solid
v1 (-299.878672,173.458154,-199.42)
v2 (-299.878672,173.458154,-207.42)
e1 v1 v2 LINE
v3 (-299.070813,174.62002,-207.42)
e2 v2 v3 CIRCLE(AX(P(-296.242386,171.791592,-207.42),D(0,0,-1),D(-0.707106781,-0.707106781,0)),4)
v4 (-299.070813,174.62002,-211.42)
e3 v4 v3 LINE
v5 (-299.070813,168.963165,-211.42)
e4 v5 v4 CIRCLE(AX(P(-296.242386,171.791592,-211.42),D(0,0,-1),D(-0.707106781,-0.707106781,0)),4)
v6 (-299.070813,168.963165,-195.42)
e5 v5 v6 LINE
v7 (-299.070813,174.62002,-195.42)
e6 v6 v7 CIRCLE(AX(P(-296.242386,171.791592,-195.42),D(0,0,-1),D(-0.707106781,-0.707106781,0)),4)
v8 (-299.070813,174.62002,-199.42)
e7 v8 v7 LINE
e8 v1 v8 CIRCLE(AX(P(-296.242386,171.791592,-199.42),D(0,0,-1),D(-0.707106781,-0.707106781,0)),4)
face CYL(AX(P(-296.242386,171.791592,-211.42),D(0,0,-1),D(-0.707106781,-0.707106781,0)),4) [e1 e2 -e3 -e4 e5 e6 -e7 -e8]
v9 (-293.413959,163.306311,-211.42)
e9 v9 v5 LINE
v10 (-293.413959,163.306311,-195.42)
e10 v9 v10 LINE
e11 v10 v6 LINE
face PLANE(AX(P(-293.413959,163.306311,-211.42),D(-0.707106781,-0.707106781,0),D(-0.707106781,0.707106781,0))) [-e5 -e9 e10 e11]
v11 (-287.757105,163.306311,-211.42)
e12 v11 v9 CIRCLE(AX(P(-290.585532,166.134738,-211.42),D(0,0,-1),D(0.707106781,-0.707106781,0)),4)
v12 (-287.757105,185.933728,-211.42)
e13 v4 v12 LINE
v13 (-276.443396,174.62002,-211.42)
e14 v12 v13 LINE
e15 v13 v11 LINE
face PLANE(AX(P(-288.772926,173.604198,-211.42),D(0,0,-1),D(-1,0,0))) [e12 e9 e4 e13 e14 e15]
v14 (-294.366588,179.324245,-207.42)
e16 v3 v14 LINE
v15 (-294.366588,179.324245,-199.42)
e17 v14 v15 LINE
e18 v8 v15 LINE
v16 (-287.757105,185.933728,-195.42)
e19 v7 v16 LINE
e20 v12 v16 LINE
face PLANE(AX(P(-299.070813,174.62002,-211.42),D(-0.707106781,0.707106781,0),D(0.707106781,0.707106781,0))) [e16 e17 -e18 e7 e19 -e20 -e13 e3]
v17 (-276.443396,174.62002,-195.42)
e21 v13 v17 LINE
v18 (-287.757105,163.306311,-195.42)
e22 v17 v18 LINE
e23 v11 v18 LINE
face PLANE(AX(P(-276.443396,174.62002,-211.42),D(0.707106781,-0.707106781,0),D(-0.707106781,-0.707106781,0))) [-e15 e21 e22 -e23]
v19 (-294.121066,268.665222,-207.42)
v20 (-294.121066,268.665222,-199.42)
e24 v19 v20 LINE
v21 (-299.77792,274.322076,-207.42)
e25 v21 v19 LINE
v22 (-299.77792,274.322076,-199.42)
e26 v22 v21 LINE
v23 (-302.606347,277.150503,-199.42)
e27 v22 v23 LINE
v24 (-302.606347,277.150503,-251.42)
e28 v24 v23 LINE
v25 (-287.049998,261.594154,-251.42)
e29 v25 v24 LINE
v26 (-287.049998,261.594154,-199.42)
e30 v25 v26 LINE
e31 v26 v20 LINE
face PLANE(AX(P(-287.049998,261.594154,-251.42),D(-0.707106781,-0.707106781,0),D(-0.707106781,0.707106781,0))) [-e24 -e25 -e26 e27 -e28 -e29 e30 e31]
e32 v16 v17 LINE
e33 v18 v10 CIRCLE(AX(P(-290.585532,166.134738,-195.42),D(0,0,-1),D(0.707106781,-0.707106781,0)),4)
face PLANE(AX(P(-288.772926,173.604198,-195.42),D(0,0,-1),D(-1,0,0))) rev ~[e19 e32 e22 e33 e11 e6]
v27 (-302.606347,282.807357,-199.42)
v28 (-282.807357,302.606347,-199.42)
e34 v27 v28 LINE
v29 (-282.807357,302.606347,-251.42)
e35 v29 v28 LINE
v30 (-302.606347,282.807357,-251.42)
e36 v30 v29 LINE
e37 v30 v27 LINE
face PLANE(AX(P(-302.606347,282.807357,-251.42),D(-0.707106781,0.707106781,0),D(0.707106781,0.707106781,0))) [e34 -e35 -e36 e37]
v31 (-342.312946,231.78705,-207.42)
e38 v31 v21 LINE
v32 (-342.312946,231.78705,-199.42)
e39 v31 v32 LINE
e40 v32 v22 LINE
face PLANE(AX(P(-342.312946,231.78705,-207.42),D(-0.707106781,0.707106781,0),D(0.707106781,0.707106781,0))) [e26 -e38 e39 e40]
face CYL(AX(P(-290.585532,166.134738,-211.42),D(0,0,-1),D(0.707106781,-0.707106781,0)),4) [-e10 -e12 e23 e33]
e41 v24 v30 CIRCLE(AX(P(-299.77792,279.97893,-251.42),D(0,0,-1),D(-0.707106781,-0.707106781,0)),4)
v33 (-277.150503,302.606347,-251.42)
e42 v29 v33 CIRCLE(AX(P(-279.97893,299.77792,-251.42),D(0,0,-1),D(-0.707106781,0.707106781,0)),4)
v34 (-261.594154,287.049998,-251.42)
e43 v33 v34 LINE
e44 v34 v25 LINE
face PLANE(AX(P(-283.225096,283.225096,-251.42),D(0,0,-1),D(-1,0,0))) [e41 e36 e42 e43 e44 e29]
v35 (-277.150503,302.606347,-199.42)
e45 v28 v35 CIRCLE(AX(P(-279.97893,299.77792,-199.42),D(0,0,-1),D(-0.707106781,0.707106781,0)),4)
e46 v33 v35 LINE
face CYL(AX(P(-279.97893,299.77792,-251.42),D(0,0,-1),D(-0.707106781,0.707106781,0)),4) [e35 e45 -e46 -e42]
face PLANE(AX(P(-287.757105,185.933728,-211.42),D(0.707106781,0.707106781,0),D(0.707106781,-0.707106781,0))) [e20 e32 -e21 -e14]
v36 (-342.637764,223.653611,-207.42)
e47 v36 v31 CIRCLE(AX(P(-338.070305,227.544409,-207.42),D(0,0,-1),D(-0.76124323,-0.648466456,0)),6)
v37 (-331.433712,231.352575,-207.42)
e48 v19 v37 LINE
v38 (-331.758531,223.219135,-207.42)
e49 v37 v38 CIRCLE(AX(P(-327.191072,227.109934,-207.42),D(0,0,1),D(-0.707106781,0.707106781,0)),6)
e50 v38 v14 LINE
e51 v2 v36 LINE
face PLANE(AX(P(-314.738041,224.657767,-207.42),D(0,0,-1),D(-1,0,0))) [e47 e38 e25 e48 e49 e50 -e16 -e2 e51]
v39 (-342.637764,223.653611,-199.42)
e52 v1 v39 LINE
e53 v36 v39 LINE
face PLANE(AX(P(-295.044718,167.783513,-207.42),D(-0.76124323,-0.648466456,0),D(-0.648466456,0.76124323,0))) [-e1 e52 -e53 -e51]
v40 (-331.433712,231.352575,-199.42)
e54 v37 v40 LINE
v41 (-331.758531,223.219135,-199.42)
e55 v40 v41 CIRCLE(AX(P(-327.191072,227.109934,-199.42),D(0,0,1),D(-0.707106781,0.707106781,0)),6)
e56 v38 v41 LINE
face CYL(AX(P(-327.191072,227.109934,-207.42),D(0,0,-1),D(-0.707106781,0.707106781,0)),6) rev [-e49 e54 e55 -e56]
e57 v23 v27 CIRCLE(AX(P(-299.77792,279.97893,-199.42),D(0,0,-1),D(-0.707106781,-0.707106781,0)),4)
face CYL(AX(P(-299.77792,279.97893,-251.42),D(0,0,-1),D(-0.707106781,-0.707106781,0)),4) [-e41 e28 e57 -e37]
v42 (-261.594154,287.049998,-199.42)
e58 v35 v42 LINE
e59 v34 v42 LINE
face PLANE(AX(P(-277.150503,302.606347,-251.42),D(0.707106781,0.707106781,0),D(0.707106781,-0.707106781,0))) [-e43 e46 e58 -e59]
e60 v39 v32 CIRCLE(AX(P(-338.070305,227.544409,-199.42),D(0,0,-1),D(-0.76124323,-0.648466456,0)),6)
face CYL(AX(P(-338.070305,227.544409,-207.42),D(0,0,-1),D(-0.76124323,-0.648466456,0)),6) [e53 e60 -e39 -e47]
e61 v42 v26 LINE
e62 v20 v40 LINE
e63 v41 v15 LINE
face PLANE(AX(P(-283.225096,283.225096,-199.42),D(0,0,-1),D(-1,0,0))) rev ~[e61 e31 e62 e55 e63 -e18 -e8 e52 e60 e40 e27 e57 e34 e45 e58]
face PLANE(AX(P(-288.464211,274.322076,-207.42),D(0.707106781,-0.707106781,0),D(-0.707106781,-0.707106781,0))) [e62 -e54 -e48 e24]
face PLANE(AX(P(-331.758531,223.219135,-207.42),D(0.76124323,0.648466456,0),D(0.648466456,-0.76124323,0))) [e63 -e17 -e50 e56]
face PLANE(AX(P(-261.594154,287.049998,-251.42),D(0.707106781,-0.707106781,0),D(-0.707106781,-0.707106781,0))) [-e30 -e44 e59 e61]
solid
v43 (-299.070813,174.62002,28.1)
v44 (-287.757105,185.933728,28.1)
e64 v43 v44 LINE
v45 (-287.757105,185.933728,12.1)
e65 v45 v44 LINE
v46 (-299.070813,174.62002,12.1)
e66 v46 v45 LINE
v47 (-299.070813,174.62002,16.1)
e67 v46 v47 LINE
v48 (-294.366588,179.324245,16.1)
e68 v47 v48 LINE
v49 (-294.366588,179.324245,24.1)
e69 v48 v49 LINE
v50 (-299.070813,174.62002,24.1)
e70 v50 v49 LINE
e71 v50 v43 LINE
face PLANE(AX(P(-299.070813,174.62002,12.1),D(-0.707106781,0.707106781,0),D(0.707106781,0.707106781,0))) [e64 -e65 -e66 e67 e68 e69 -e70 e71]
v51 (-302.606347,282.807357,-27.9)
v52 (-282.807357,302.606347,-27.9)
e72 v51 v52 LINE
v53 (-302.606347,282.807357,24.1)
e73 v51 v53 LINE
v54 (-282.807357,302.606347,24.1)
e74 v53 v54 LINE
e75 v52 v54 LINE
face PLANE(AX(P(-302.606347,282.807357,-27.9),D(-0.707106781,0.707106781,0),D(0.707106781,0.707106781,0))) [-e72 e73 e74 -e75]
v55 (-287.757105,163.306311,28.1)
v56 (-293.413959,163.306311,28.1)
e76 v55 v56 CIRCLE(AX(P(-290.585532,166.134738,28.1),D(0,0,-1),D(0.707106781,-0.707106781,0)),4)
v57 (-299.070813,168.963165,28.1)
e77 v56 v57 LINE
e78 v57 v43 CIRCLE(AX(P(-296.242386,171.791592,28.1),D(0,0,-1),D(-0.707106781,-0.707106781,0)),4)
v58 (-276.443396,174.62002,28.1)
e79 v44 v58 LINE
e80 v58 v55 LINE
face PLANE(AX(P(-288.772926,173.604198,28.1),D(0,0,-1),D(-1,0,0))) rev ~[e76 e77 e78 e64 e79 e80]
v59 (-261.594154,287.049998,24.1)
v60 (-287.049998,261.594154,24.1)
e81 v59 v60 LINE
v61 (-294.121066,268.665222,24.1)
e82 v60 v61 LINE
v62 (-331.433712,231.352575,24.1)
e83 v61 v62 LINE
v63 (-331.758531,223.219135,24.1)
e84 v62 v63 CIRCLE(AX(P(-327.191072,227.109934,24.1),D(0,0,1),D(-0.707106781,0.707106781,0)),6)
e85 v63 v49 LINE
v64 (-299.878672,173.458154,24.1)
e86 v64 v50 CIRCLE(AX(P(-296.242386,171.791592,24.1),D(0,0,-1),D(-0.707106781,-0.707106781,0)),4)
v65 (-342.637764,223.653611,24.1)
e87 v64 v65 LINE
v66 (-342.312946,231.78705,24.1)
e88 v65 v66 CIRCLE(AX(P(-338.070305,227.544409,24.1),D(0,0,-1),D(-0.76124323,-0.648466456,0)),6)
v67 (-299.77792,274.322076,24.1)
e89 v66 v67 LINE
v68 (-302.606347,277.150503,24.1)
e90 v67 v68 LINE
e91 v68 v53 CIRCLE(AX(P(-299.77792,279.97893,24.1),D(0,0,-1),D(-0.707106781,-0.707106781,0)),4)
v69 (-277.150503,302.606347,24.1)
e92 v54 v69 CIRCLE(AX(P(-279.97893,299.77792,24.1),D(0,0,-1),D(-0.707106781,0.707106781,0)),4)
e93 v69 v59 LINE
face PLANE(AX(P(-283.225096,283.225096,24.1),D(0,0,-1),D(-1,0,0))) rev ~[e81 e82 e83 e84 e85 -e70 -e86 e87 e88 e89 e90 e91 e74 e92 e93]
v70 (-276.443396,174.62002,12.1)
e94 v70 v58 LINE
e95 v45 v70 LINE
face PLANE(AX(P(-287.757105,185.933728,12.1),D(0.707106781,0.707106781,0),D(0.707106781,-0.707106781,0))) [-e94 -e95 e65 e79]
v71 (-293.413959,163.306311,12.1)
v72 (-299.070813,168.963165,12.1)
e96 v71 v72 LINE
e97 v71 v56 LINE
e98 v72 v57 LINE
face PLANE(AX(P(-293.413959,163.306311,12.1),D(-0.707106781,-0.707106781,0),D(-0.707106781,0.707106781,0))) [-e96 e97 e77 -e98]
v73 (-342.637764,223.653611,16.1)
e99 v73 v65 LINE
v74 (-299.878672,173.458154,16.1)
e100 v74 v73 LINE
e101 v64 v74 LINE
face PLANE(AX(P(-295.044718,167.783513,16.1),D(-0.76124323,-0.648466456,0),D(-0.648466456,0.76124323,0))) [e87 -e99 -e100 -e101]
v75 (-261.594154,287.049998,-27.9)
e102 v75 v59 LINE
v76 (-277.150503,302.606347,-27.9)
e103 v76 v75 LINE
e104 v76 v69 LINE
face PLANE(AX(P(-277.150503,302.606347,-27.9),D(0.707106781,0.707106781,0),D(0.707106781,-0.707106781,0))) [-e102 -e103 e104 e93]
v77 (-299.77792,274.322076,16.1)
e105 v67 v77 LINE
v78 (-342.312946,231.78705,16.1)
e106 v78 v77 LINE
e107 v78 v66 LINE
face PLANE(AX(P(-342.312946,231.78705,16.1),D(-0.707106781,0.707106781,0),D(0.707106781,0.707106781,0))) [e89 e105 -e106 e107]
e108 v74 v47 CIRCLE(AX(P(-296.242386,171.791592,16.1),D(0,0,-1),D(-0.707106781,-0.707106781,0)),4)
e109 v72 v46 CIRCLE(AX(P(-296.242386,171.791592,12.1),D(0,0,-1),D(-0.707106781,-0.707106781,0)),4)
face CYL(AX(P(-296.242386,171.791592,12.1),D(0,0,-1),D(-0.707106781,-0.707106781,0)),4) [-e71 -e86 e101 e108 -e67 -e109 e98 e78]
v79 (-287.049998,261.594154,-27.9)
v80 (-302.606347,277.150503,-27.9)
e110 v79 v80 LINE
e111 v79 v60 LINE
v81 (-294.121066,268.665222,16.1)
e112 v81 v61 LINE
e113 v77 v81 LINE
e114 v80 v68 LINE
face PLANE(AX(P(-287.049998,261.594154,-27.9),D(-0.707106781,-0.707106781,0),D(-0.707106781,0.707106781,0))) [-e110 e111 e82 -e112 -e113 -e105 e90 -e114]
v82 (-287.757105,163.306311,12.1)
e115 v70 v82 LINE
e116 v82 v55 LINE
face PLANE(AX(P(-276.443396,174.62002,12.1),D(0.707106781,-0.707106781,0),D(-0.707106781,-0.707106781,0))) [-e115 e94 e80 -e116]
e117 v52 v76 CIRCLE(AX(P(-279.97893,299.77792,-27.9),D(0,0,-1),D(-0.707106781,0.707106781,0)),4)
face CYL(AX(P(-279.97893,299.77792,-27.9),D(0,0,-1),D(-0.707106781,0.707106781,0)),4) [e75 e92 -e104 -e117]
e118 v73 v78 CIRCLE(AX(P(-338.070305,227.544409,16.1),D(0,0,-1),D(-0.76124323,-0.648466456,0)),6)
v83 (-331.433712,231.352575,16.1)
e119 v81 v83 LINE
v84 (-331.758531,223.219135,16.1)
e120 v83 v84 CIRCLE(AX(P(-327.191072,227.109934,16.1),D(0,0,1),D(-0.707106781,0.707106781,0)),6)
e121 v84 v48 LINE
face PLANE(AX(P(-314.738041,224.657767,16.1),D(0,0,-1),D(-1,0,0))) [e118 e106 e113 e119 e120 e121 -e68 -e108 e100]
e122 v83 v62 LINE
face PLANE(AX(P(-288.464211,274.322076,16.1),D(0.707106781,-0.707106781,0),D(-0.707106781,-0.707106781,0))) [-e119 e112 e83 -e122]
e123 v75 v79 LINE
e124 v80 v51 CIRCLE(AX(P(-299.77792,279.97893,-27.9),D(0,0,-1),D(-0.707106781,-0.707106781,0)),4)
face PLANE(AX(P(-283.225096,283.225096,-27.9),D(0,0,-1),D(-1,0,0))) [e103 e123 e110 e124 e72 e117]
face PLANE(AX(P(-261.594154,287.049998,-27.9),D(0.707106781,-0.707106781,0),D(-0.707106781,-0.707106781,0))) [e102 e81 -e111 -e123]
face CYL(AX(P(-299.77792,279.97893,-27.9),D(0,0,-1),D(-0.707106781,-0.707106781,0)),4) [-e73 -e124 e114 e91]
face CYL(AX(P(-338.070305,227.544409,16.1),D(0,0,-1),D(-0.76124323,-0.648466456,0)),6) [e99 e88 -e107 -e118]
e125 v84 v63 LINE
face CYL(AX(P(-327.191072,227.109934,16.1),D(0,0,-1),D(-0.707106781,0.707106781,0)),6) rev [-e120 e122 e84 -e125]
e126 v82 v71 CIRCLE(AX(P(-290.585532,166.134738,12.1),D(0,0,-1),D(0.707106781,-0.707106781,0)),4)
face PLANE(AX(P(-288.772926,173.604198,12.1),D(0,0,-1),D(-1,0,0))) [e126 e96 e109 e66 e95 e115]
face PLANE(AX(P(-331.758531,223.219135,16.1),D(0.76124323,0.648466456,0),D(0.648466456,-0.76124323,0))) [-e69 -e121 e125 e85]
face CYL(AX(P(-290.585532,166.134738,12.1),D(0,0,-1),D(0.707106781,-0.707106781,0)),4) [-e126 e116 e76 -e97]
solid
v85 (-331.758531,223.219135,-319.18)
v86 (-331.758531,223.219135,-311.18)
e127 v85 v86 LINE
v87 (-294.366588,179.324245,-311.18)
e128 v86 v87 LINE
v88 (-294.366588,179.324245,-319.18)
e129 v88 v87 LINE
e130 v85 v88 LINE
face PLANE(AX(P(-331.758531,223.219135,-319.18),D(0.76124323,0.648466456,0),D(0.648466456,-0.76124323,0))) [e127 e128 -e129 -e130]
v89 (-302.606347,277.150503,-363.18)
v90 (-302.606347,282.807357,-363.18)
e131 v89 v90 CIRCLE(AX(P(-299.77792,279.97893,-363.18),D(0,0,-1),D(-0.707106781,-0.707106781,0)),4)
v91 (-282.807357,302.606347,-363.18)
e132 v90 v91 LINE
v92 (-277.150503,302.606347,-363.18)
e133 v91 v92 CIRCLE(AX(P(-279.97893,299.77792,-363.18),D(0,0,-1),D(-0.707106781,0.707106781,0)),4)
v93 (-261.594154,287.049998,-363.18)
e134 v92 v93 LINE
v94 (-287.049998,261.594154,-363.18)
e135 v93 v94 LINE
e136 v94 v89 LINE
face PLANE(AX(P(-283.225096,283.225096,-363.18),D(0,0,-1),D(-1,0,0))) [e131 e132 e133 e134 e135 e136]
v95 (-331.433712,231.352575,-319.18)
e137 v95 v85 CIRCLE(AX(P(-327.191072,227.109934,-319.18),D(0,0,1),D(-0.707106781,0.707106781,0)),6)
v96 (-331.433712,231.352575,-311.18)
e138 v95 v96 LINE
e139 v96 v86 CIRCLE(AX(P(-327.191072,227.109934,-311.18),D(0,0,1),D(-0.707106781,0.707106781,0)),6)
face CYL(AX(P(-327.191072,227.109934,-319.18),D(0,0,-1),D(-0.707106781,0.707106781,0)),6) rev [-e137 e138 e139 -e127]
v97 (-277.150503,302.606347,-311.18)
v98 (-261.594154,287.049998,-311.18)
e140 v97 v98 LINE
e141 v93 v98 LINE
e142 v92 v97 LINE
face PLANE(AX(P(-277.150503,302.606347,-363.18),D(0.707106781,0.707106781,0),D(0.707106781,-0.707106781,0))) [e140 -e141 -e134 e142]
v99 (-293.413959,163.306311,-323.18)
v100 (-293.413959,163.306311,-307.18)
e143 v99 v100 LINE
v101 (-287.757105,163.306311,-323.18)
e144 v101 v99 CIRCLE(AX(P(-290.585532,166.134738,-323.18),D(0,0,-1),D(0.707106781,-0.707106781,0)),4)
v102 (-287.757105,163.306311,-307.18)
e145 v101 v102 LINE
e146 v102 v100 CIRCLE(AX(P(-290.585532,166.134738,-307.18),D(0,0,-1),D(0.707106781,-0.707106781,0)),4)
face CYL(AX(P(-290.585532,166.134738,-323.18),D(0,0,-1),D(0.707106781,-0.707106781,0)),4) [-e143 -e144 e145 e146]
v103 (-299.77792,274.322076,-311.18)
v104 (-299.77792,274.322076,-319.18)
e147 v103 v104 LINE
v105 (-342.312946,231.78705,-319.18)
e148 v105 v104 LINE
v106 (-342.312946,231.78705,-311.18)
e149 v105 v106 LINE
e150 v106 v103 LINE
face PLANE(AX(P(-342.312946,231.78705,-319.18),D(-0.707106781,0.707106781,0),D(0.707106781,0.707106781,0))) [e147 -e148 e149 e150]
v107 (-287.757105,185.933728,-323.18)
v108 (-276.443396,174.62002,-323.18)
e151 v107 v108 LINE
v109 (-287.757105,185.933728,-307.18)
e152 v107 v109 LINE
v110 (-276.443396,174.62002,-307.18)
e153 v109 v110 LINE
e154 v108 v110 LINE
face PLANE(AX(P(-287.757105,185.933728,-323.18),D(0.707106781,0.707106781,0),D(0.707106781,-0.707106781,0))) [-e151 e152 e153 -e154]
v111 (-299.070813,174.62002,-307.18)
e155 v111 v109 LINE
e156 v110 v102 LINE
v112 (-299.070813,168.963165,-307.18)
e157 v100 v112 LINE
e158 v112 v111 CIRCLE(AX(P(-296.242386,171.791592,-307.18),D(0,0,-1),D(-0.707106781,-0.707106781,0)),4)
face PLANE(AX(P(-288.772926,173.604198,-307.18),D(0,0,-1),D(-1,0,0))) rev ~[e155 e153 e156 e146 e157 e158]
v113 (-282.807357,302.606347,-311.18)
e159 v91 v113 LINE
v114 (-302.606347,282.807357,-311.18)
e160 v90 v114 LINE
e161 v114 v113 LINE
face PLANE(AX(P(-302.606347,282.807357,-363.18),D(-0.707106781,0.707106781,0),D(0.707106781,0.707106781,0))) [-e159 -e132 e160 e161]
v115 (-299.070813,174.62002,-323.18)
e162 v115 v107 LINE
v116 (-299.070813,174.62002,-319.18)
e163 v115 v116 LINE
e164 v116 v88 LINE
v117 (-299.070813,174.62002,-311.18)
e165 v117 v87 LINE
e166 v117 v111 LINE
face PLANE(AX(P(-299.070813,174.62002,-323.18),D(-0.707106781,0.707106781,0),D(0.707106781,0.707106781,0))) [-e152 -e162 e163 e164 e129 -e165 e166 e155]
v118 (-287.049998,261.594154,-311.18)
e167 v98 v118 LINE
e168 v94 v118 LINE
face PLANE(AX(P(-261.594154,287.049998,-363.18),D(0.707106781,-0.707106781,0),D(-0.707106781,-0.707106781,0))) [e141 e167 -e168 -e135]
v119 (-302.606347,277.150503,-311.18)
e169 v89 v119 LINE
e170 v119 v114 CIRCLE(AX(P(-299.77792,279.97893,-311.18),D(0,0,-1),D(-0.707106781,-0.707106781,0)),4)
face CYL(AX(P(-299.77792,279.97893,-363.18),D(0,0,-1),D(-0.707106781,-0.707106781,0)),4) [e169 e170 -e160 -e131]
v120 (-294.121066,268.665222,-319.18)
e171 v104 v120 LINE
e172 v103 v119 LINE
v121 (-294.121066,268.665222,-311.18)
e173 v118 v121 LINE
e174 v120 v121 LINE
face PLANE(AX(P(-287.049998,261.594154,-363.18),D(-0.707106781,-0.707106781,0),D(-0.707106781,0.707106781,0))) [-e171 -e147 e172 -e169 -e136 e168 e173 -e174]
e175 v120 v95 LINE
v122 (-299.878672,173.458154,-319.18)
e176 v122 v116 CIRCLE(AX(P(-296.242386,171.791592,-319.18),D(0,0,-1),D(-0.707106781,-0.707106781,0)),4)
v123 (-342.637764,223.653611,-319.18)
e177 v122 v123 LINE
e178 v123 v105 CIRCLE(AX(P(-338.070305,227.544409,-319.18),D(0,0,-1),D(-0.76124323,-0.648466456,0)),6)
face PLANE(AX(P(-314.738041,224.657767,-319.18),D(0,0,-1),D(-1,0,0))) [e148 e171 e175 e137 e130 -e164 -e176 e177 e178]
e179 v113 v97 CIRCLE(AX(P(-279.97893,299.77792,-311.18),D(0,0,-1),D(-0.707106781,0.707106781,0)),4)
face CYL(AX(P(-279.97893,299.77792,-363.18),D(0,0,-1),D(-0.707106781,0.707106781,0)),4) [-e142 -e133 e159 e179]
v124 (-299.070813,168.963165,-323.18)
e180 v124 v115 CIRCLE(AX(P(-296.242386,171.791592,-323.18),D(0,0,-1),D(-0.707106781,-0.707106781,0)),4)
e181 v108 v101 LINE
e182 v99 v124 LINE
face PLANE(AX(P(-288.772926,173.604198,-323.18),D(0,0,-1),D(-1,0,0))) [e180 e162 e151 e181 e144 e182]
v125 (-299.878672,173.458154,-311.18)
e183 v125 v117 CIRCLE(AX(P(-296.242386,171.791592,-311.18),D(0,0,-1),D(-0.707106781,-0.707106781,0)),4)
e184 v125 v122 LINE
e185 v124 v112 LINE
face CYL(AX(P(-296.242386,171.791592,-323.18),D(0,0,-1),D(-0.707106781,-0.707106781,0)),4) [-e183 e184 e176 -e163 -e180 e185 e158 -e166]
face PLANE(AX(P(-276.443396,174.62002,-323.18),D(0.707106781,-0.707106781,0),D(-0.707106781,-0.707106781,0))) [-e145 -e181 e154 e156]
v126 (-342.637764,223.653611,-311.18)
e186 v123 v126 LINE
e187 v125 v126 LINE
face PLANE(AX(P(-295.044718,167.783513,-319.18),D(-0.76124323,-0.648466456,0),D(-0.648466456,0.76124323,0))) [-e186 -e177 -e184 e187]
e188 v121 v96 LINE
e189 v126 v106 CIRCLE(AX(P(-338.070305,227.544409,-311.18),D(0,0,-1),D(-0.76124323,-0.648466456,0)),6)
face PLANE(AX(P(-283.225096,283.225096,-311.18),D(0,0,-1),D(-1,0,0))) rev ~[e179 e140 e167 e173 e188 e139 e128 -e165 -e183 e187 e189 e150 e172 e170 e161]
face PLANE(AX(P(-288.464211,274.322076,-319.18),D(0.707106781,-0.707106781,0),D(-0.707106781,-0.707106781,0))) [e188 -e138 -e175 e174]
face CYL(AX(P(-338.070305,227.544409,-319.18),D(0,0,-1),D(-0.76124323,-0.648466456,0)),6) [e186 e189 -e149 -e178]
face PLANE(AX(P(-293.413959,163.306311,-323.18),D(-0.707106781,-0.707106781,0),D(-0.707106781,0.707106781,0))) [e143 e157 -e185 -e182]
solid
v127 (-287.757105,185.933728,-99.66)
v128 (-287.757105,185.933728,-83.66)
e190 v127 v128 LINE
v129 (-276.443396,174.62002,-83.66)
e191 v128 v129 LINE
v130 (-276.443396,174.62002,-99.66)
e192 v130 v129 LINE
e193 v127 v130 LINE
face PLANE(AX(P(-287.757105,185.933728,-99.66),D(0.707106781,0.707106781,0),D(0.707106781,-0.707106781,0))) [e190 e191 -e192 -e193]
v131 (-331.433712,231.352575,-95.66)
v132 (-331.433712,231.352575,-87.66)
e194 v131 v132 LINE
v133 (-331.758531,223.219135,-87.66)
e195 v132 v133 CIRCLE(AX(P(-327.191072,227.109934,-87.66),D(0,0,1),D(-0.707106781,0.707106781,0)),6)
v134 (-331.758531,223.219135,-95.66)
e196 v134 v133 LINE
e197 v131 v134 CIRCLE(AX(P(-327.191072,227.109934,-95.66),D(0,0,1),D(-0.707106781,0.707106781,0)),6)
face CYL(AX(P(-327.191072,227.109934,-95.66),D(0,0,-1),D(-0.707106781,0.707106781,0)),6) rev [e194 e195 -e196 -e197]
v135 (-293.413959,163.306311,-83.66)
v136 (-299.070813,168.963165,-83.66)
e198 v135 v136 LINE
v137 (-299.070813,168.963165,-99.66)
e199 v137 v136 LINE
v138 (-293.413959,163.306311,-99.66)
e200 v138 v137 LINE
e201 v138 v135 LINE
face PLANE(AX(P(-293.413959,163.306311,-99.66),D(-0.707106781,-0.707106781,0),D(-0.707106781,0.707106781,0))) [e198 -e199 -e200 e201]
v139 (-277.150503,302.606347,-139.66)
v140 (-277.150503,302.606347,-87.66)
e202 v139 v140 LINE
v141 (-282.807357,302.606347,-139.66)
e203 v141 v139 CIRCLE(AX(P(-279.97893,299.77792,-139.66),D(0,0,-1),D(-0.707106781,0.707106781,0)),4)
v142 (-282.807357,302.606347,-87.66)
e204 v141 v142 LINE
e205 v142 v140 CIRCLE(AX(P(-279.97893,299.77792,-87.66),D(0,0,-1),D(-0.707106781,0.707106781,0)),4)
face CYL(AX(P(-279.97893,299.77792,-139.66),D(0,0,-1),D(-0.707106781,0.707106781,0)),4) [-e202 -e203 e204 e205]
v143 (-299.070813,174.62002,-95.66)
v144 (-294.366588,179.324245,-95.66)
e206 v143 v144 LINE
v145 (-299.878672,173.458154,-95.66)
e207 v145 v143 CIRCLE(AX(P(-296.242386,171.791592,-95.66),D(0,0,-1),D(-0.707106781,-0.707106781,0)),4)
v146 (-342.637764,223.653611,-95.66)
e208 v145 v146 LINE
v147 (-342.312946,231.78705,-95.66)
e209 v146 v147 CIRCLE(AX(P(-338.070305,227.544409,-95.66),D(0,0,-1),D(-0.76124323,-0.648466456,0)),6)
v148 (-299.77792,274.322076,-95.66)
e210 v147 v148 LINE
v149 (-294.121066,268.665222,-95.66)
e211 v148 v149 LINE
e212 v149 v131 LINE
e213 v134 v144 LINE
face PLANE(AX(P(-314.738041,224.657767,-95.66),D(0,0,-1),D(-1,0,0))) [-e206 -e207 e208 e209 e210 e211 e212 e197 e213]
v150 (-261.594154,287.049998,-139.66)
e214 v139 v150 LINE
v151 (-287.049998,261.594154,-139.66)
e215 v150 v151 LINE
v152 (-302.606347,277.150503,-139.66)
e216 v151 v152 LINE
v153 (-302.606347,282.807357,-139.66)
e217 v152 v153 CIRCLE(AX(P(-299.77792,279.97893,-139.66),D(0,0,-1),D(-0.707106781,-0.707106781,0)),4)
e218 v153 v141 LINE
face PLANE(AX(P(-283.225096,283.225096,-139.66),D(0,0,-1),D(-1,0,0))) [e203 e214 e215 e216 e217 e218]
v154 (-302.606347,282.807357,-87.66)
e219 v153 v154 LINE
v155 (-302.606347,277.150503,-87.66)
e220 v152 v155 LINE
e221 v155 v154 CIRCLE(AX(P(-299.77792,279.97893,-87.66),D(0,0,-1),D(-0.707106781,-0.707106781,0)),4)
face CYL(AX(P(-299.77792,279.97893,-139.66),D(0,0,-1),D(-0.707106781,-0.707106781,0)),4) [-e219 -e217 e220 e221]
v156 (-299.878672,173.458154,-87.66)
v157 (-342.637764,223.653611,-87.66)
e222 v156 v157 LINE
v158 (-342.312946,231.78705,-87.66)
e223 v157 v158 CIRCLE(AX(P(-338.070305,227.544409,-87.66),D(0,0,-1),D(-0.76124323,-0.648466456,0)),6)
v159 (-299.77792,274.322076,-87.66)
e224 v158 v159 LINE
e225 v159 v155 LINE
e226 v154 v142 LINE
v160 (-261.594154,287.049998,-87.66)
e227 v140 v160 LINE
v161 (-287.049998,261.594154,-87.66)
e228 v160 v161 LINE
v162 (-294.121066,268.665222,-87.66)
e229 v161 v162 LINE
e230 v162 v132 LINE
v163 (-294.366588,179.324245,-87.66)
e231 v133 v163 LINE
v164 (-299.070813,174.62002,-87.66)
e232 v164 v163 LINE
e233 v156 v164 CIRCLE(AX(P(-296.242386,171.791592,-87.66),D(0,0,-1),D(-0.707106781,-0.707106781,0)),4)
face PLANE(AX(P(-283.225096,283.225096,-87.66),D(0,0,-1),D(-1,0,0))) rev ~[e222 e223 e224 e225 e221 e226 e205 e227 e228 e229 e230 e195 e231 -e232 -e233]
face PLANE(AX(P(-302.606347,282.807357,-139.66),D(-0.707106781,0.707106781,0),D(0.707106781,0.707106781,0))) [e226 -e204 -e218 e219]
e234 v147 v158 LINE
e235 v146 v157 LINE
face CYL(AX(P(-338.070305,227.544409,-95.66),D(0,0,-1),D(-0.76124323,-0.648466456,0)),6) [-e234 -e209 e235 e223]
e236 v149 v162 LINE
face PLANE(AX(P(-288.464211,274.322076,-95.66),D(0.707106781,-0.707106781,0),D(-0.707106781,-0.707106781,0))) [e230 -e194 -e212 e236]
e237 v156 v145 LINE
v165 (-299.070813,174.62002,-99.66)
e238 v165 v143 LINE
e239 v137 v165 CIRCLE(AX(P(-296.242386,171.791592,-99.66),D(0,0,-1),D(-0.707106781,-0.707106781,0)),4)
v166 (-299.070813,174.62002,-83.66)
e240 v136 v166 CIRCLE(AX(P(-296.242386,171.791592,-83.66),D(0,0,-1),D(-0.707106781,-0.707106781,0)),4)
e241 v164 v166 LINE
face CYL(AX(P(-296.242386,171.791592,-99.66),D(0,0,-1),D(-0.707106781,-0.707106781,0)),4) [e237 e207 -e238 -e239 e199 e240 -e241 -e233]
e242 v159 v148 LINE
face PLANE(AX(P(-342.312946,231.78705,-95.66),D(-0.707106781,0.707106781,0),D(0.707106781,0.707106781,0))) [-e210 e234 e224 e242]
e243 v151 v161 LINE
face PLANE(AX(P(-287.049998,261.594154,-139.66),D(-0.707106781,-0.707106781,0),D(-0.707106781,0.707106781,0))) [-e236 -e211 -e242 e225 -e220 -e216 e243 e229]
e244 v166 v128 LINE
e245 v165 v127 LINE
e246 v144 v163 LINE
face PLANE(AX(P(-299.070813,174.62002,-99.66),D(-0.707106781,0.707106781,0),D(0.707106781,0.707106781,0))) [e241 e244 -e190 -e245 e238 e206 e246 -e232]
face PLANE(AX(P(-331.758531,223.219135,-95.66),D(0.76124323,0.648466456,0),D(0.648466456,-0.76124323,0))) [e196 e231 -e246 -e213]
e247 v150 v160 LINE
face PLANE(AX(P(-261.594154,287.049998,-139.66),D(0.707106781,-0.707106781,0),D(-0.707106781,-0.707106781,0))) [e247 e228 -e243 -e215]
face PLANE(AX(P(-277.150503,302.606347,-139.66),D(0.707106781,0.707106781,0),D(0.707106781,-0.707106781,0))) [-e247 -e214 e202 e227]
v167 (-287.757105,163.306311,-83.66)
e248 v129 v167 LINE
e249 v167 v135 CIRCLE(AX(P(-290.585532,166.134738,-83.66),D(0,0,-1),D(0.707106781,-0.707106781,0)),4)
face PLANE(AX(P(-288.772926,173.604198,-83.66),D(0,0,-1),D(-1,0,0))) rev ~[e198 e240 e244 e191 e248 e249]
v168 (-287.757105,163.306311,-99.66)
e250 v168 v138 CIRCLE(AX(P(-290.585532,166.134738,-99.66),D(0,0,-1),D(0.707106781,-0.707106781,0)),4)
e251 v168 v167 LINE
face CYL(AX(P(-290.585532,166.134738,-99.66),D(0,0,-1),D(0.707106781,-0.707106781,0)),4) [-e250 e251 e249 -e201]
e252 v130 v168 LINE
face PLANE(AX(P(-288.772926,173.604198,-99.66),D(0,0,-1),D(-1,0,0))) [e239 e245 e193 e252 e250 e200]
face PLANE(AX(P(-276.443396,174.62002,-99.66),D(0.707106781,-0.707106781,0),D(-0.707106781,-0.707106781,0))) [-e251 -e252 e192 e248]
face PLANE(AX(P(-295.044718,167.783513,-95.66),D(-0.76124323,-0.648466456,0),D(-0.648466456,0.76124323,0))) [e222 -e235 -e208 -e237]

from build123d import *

# Parameters (mm, degrees)
COIL_START        = -27.9
COIL_2_DEPTH      = 52
PLUG_START        = 16.1
PLUG_LEAD_2_DEPTH = 8
PLUG_START_2      = 12.1
PLUG_BOOT_2_DEPTH = 16
COIL_START_2      = -139.66
COIL_4_DEPTH      = 52
PLUG_START_3      = -95.66
PLUG_LEAD_4_DEPTH = 8
PLUG_START_4      = -99.66
PLUG_BOOT_4_DEPTH = 16
COIL_START_3      = -251.42
COIL_6_DEPTH      = 52
PLUG_START_5      = -207.42
PLUG_LEAD_6_DEPTH = 8
PLUG_START_6      = -211.42
PLUG_BOOT_6_DEPTH = 16
COIL_START_4      = -363.18
COIL_8_DEPTH      = 52
PLUG_START_7      = -319.18
PLUG_LEAD_8_DEPTH = 8
PLUG_START_8      = -323.18
PLUG_BOOT_8_DEPTH = 16


with BuildPart() as part:
    # Sketch1 → Coil 2 (new body)
    with BuildSketch(Plane.XY.offset(COIL_START)):
        with BuildLine():
            Line((-261.5941537, 287.049997823), (-287.049997823, 261.5941537))
            Line((-287.049997823, 261.5941537), (-302.606347009, 277.150502886))
            ThreePointArc((-302.606347009, 277.150502886), (-303.777919884, 279.978930011), (-302.606347009, 282.807357136))
            Line((-302.606347009, 282.807357136), (-282.807357136, 302.606347009))
            ThreePointArc((-282.807357136, 302.606347009), (-279.978930011, 303.777919884), (-277.150502886, 302.606347009))
            Line((-277.150502886, 302.606347009), (-261.5941537, 287.049997823))
        make_face()
    extrude(amount=COIL_2_DEPTH)

    # Sketch2 → Plug Lead 2 (add)
    with BuildSketch(Plane.XY.offset(PLUG_START)):
        with BuildLine():
            Line((-288.464211385, 274.322075761), (-331.433712353, 231.352574794))
            ThreePointArc((-331.433712353, 231.352574794), (-333.18629268, 227.349360476), (-331.758531048, 223.219135373))
            Line((-331.758531048, 223.219135373), (-288.954772369, 172.971244749))
            Line((-288.954772369, 172.971244749), (-295.044718213, 167.783513104))
            Line((-295.044718213, 167.783513104), (-342.63776427, 223.65361065))
            ThreePointArc((-342.63776427, 223.65361065), (-344.065525902, 227.783835753), (-342.312945575, 231.787050071))
            Line((-342.312945575, 231.787050071), (-294.121065635, 279.978930011))
            Line((-294.121065635, 279.978930011), (-288.464211385, 274.322075761))
        make_face()
    extrude(amount=PLUG_LEAD_2_DEPTH)

    # Sketch3 → Plug Boot 2 (add)
    with BuildSketch(Plane.XY.offset(PLUG_START_2)):
        with BuildLine():
            Line((-276.443396105, 174.620019614), (-287.757104604, 163.306311115))
            ThreePointArc((-287.757104604, 163.306311115), (-290.585531729, 162.13473824), (-293.413958853, 163.306311115))
            Line((-293.413958853, 163.306311115), (-299.070813103, 168.963165365))
            ThreePointArc((-299.070813103, 168.963165365), (-300.242385978, 171.791592489), (-299.070813103, 174.620019614))
            Line((-299.070813103, 174.620019614), (-287.757104604, 185.933728113))
            Line((-287.757104604, 185.933728113), (-276.443396105, 174.620019614))
        make_face()
    extrude(amount=PLUG_BOOT_2_DEPTH)


with BuildPart() as body_2:
    # Sketch4 → Coil 4 (new body)
    with BuildSketch(Plane.XY.offset(COIL_START_2)):
        with BuildLine():
            Line((-261.5941537, 287.049997823), (-287.049997823, 261.5941537))
            Line((-287.049997823, 261.5941537), (-302.606347009, 277.150502886))
            ThreePointArc((-302.606347009, 277.150502886), (-303.777919884, 279.978930011), (-302.606347009, 282.807357136))
            Line((-302.606347009, 282.807357136), (-282.807357136, 302.606347009))
            ThreePointArc((-282.807357136, 302.606347009), (-279.978930011, 303.777919884), (-277.150502886, 302.606347009))
            Line((-277.150502886, 302.606347009), (-261.5941537, 287.049997823))
        make_face()
    extrude(amount=COIL_4_DEPTH)

    # Sketch5 → Plug Lead 4 (add)
    with BuildSketch(Plane.XY.offset(PLUG_START_3)):
        with BuildLine():
            Line((-288.464211385, 274.322075761), (-331.433712353, 231.352574794))
            ThreePointArc((-331.433712353, 231.352574794), (-333.18629268, 227.349360476), (-331.758531048, 223.219135373))
            Line((-331.758531048, 223.219135373), (-288.954772369, 172.971244749))
            Line((-288.954772369, 172.971244749), (-295.044718213, 167.783513104))
            Line((-295.044718213, 167.783513104), (-342.63776427, 223.65361065))
            ThreePointArc((-342.63776427, 223.65361065), (-344.065525902, 227.783835753), (-342.312945575, 231.787050071))
            Line((-342.312945575, 231.787050071), (-294.121065635, 279.978930011))
            Line((-294.121065635, 279.978930011), (-288.464211385, 274.322075761))
        make_face()
    extrude(amount=PLUG_LEAD_4_DEPTH)

    # Sketch6 → Plug Boot 4 (add)
    with BuildSketch(Plane.XY.offset(PLUG_START_4)):
        with BuildLine():
            Line((-276.443396105, 174.620019614), (-287.757104604, 163.306311115))
            ThreePointArc((-287.757104604, 163.306311115), (-290.585531729, 162.13473824), (-293.413958853, 163.306311115))
            Line((-293.413958853, 163.306311115), (-299.070813103, 168.963165365))
            ThreePointArc((-299.070813103, 168.963165365), (-300.242385978, 171.791592489), (-299.070813103, 174.620019614))
            Line((-299.070813103, 174.620019614), (-287.757104604, 185.933728113))
            Line((-287.757104604, 185.933728113), (-276.443396105, 174.620019614))
        make_face()
    extrude(amount=PLUG_BOOT_4_DEPTH)


with BuildPart() as body_3:
    # Sketch7 → Coil 6 (new body)
    with BuildSketch(Plane.XY.offset(COIL_START_3)):
        with BuildLine():
            Line((-261.5941537, 287.049997823), (-287.049997823, 261.5941537))
            Line((-287.049997823, 261.5941537), (-302.606347009, 277.150502886))
            ThreePointArc((-302.606347009, 277.150502886), (-303.777919884, 279.978930011), (-302.606347009, 282.807357136))
            Line((-302.606347009, 282.807357136), (-282.807357136, 302.606347009))
            ThreePointArc((-282.807357136, 302.606347009), (-279.978930011, 303.777919884), (-277.150502886, 302.606347009))
            Line((-277.150502886, 302.606347009), (-261.5941537, 287.049997823))
        make_face()
    extrude(amount=COIL_6_DEPTH)

    # Sketch8 → Plug Lead 6 (add)
    with BuildSketch(Plane.XY.offset(PLUG_START_5)):
        with BuildLine():
            Line((-288.464211385, 274.322075761), (-331.433712353, 231.352574794))
            ThreePointArc((-331.433712353, 231.352574794), (-333.18629268, 227.349360476), (-331.758531048, 223.219135373))
            Line((-331.758531048, 223.219135373), (-288.954772369, 172.971244749))
            Line((-288.954772369, 172.971244749), (-295.044718213, 167.783513104))
            Line((-295.044718213, 167.783513104), (-342.63776427, 223.65361065))
            ThreePointArc((-342.63776427, 223.65361065), (-344.065525902, 227.783835753), (-342.312945575, 231.787050071))
            Line((-342.312945575, 231.787050071), (-294.121065635, 279.978930011))
            Line((-294.121065635, 279.978930011), (-288.464211385, 274.322075761))
        make_face()
    extrude(amount=PLUG_LEAD_6_DEPTH)

    # Sketch9 → Plug Boot 6 (add)
    with BuildSketch(Plane.XY.offset(PLUG_START_6)):
        with BuildLine():
            Line((-276.443396105, 174.620019614), (-287.757104604, 163.306311115))
            ThreePointArc((-287.757104604, 163.306311115), (-290.585531729, 162.13473824), (-293.413958853, 163.306311115))
            Line((-293.413958853, 163.306311115), (-299.070813103, 168.963165365))
            ThreePointArc((-299.070813103, 168.963165365), (-300.242385978, 171.791592489), (-299.070813103, 174.620019614))
            Line((-299.070813103, 174.620019614), (-287.757104604, 185.933728113))
            Line((-287.757104604, 185.933728113), (-276.443396105, 174.620019614))
        make_face()
    extrude(amount=PLUG_BOOT_6_DEPTH)


with BuildPart() as body_4:
    # Sketch10 → Coil 8 (new body)
    with BuildSketch(Plane.XY.offset(COIL_START_4)):
        with BuildLine():
            Line((-261.5941537, 287.049997823), (-287.049997823, 261.5941537))
            Line((-287.049997823, 261.5941537), (-302.606347009, 277.150502886))
            ThreePointArc((-302.606347009, 277.150502886), (-303.777919884, 279.978930011), (-302.606347009, 282.807357136))
            Line((-302.606347009, 282.807357136), (-282.807357136, 302.606347009))
            ThreePointArc((-282.807357136, 302.606347009), (-279.978930011, 303.777919884), (-277.150502886, 302.606347009))
            Line((-277.150502886, 302.606347009), (-261.5941537, 287.049997823))
        make_face()
    extrude(amount=COIL_8_DEPTH)

    # Sketch11 → Plug Lead 8 (add)
    with BuildSketch(Plane.XY.offset(PLUG_START_7)):
        with BuildLine():
            Line((-288.464211385, 274.322075761), (-331.433712353, 231.352574794))
            ThreePointArc((-331.433712353, 231.352574794), (-333.18629268, 227.349360476), (-331.758531048, 223.219135373))
            Line((-331.758531048, 223.219135373), (-288.954772369, 172.971244749))
            Line((-288.954772369, 172.971244749), (-295.044718213, 167.783513104))
            Line((-295.044718213, 167.783513104), (-342.63776427, 223.65361065))
            ThreePointArc((-342.63776427, 223.65361065), (-344.065525902, 227.783835753), (-342.312945575, 231.787050071))
            Line((-342.312945575, 231.787050071), (-294.121065635, 279.978930011))
            Line((-294.121065635, 279.978930011), (-288.464211385, 274.322075761))
        make_face()
    extrude(amount=PLUG_LEAD_8_DEPTH)

    # Sketch12 → Plug Boot 8 (add)
    with BuildSketch(Plane.XY.offset(PLUG_START_8)):
        with BuildLine():
            Line((-276.443396105, 174.620019614), (-287.757104604, 163.306311115))
            ThreePointArc((-287.757104604, 163.306311115), (-290.585531729, 162.13473824), (-293.413958853, 163.306311115))
            Line((-293.413958853, 163.306311115), (-299.070813103, 168.963165365))
            ThreePointArc((-299.070813103, 168.963165365), (-300.242385978, 171.791592489), (-299.070813103, 174.620019614))
            Line((-299.070813103, 174.620019614), (-287.757104604, 185.933728113))
            Line((-287.757104604, 185.933728113), (-276.443396105, 174.620019614))
        make_face()
    extrude(amount=PLUG_BOOT_8_DEPTH)


solid = Compound([part.part, body_2.part, body_3.part, body_4.part])
